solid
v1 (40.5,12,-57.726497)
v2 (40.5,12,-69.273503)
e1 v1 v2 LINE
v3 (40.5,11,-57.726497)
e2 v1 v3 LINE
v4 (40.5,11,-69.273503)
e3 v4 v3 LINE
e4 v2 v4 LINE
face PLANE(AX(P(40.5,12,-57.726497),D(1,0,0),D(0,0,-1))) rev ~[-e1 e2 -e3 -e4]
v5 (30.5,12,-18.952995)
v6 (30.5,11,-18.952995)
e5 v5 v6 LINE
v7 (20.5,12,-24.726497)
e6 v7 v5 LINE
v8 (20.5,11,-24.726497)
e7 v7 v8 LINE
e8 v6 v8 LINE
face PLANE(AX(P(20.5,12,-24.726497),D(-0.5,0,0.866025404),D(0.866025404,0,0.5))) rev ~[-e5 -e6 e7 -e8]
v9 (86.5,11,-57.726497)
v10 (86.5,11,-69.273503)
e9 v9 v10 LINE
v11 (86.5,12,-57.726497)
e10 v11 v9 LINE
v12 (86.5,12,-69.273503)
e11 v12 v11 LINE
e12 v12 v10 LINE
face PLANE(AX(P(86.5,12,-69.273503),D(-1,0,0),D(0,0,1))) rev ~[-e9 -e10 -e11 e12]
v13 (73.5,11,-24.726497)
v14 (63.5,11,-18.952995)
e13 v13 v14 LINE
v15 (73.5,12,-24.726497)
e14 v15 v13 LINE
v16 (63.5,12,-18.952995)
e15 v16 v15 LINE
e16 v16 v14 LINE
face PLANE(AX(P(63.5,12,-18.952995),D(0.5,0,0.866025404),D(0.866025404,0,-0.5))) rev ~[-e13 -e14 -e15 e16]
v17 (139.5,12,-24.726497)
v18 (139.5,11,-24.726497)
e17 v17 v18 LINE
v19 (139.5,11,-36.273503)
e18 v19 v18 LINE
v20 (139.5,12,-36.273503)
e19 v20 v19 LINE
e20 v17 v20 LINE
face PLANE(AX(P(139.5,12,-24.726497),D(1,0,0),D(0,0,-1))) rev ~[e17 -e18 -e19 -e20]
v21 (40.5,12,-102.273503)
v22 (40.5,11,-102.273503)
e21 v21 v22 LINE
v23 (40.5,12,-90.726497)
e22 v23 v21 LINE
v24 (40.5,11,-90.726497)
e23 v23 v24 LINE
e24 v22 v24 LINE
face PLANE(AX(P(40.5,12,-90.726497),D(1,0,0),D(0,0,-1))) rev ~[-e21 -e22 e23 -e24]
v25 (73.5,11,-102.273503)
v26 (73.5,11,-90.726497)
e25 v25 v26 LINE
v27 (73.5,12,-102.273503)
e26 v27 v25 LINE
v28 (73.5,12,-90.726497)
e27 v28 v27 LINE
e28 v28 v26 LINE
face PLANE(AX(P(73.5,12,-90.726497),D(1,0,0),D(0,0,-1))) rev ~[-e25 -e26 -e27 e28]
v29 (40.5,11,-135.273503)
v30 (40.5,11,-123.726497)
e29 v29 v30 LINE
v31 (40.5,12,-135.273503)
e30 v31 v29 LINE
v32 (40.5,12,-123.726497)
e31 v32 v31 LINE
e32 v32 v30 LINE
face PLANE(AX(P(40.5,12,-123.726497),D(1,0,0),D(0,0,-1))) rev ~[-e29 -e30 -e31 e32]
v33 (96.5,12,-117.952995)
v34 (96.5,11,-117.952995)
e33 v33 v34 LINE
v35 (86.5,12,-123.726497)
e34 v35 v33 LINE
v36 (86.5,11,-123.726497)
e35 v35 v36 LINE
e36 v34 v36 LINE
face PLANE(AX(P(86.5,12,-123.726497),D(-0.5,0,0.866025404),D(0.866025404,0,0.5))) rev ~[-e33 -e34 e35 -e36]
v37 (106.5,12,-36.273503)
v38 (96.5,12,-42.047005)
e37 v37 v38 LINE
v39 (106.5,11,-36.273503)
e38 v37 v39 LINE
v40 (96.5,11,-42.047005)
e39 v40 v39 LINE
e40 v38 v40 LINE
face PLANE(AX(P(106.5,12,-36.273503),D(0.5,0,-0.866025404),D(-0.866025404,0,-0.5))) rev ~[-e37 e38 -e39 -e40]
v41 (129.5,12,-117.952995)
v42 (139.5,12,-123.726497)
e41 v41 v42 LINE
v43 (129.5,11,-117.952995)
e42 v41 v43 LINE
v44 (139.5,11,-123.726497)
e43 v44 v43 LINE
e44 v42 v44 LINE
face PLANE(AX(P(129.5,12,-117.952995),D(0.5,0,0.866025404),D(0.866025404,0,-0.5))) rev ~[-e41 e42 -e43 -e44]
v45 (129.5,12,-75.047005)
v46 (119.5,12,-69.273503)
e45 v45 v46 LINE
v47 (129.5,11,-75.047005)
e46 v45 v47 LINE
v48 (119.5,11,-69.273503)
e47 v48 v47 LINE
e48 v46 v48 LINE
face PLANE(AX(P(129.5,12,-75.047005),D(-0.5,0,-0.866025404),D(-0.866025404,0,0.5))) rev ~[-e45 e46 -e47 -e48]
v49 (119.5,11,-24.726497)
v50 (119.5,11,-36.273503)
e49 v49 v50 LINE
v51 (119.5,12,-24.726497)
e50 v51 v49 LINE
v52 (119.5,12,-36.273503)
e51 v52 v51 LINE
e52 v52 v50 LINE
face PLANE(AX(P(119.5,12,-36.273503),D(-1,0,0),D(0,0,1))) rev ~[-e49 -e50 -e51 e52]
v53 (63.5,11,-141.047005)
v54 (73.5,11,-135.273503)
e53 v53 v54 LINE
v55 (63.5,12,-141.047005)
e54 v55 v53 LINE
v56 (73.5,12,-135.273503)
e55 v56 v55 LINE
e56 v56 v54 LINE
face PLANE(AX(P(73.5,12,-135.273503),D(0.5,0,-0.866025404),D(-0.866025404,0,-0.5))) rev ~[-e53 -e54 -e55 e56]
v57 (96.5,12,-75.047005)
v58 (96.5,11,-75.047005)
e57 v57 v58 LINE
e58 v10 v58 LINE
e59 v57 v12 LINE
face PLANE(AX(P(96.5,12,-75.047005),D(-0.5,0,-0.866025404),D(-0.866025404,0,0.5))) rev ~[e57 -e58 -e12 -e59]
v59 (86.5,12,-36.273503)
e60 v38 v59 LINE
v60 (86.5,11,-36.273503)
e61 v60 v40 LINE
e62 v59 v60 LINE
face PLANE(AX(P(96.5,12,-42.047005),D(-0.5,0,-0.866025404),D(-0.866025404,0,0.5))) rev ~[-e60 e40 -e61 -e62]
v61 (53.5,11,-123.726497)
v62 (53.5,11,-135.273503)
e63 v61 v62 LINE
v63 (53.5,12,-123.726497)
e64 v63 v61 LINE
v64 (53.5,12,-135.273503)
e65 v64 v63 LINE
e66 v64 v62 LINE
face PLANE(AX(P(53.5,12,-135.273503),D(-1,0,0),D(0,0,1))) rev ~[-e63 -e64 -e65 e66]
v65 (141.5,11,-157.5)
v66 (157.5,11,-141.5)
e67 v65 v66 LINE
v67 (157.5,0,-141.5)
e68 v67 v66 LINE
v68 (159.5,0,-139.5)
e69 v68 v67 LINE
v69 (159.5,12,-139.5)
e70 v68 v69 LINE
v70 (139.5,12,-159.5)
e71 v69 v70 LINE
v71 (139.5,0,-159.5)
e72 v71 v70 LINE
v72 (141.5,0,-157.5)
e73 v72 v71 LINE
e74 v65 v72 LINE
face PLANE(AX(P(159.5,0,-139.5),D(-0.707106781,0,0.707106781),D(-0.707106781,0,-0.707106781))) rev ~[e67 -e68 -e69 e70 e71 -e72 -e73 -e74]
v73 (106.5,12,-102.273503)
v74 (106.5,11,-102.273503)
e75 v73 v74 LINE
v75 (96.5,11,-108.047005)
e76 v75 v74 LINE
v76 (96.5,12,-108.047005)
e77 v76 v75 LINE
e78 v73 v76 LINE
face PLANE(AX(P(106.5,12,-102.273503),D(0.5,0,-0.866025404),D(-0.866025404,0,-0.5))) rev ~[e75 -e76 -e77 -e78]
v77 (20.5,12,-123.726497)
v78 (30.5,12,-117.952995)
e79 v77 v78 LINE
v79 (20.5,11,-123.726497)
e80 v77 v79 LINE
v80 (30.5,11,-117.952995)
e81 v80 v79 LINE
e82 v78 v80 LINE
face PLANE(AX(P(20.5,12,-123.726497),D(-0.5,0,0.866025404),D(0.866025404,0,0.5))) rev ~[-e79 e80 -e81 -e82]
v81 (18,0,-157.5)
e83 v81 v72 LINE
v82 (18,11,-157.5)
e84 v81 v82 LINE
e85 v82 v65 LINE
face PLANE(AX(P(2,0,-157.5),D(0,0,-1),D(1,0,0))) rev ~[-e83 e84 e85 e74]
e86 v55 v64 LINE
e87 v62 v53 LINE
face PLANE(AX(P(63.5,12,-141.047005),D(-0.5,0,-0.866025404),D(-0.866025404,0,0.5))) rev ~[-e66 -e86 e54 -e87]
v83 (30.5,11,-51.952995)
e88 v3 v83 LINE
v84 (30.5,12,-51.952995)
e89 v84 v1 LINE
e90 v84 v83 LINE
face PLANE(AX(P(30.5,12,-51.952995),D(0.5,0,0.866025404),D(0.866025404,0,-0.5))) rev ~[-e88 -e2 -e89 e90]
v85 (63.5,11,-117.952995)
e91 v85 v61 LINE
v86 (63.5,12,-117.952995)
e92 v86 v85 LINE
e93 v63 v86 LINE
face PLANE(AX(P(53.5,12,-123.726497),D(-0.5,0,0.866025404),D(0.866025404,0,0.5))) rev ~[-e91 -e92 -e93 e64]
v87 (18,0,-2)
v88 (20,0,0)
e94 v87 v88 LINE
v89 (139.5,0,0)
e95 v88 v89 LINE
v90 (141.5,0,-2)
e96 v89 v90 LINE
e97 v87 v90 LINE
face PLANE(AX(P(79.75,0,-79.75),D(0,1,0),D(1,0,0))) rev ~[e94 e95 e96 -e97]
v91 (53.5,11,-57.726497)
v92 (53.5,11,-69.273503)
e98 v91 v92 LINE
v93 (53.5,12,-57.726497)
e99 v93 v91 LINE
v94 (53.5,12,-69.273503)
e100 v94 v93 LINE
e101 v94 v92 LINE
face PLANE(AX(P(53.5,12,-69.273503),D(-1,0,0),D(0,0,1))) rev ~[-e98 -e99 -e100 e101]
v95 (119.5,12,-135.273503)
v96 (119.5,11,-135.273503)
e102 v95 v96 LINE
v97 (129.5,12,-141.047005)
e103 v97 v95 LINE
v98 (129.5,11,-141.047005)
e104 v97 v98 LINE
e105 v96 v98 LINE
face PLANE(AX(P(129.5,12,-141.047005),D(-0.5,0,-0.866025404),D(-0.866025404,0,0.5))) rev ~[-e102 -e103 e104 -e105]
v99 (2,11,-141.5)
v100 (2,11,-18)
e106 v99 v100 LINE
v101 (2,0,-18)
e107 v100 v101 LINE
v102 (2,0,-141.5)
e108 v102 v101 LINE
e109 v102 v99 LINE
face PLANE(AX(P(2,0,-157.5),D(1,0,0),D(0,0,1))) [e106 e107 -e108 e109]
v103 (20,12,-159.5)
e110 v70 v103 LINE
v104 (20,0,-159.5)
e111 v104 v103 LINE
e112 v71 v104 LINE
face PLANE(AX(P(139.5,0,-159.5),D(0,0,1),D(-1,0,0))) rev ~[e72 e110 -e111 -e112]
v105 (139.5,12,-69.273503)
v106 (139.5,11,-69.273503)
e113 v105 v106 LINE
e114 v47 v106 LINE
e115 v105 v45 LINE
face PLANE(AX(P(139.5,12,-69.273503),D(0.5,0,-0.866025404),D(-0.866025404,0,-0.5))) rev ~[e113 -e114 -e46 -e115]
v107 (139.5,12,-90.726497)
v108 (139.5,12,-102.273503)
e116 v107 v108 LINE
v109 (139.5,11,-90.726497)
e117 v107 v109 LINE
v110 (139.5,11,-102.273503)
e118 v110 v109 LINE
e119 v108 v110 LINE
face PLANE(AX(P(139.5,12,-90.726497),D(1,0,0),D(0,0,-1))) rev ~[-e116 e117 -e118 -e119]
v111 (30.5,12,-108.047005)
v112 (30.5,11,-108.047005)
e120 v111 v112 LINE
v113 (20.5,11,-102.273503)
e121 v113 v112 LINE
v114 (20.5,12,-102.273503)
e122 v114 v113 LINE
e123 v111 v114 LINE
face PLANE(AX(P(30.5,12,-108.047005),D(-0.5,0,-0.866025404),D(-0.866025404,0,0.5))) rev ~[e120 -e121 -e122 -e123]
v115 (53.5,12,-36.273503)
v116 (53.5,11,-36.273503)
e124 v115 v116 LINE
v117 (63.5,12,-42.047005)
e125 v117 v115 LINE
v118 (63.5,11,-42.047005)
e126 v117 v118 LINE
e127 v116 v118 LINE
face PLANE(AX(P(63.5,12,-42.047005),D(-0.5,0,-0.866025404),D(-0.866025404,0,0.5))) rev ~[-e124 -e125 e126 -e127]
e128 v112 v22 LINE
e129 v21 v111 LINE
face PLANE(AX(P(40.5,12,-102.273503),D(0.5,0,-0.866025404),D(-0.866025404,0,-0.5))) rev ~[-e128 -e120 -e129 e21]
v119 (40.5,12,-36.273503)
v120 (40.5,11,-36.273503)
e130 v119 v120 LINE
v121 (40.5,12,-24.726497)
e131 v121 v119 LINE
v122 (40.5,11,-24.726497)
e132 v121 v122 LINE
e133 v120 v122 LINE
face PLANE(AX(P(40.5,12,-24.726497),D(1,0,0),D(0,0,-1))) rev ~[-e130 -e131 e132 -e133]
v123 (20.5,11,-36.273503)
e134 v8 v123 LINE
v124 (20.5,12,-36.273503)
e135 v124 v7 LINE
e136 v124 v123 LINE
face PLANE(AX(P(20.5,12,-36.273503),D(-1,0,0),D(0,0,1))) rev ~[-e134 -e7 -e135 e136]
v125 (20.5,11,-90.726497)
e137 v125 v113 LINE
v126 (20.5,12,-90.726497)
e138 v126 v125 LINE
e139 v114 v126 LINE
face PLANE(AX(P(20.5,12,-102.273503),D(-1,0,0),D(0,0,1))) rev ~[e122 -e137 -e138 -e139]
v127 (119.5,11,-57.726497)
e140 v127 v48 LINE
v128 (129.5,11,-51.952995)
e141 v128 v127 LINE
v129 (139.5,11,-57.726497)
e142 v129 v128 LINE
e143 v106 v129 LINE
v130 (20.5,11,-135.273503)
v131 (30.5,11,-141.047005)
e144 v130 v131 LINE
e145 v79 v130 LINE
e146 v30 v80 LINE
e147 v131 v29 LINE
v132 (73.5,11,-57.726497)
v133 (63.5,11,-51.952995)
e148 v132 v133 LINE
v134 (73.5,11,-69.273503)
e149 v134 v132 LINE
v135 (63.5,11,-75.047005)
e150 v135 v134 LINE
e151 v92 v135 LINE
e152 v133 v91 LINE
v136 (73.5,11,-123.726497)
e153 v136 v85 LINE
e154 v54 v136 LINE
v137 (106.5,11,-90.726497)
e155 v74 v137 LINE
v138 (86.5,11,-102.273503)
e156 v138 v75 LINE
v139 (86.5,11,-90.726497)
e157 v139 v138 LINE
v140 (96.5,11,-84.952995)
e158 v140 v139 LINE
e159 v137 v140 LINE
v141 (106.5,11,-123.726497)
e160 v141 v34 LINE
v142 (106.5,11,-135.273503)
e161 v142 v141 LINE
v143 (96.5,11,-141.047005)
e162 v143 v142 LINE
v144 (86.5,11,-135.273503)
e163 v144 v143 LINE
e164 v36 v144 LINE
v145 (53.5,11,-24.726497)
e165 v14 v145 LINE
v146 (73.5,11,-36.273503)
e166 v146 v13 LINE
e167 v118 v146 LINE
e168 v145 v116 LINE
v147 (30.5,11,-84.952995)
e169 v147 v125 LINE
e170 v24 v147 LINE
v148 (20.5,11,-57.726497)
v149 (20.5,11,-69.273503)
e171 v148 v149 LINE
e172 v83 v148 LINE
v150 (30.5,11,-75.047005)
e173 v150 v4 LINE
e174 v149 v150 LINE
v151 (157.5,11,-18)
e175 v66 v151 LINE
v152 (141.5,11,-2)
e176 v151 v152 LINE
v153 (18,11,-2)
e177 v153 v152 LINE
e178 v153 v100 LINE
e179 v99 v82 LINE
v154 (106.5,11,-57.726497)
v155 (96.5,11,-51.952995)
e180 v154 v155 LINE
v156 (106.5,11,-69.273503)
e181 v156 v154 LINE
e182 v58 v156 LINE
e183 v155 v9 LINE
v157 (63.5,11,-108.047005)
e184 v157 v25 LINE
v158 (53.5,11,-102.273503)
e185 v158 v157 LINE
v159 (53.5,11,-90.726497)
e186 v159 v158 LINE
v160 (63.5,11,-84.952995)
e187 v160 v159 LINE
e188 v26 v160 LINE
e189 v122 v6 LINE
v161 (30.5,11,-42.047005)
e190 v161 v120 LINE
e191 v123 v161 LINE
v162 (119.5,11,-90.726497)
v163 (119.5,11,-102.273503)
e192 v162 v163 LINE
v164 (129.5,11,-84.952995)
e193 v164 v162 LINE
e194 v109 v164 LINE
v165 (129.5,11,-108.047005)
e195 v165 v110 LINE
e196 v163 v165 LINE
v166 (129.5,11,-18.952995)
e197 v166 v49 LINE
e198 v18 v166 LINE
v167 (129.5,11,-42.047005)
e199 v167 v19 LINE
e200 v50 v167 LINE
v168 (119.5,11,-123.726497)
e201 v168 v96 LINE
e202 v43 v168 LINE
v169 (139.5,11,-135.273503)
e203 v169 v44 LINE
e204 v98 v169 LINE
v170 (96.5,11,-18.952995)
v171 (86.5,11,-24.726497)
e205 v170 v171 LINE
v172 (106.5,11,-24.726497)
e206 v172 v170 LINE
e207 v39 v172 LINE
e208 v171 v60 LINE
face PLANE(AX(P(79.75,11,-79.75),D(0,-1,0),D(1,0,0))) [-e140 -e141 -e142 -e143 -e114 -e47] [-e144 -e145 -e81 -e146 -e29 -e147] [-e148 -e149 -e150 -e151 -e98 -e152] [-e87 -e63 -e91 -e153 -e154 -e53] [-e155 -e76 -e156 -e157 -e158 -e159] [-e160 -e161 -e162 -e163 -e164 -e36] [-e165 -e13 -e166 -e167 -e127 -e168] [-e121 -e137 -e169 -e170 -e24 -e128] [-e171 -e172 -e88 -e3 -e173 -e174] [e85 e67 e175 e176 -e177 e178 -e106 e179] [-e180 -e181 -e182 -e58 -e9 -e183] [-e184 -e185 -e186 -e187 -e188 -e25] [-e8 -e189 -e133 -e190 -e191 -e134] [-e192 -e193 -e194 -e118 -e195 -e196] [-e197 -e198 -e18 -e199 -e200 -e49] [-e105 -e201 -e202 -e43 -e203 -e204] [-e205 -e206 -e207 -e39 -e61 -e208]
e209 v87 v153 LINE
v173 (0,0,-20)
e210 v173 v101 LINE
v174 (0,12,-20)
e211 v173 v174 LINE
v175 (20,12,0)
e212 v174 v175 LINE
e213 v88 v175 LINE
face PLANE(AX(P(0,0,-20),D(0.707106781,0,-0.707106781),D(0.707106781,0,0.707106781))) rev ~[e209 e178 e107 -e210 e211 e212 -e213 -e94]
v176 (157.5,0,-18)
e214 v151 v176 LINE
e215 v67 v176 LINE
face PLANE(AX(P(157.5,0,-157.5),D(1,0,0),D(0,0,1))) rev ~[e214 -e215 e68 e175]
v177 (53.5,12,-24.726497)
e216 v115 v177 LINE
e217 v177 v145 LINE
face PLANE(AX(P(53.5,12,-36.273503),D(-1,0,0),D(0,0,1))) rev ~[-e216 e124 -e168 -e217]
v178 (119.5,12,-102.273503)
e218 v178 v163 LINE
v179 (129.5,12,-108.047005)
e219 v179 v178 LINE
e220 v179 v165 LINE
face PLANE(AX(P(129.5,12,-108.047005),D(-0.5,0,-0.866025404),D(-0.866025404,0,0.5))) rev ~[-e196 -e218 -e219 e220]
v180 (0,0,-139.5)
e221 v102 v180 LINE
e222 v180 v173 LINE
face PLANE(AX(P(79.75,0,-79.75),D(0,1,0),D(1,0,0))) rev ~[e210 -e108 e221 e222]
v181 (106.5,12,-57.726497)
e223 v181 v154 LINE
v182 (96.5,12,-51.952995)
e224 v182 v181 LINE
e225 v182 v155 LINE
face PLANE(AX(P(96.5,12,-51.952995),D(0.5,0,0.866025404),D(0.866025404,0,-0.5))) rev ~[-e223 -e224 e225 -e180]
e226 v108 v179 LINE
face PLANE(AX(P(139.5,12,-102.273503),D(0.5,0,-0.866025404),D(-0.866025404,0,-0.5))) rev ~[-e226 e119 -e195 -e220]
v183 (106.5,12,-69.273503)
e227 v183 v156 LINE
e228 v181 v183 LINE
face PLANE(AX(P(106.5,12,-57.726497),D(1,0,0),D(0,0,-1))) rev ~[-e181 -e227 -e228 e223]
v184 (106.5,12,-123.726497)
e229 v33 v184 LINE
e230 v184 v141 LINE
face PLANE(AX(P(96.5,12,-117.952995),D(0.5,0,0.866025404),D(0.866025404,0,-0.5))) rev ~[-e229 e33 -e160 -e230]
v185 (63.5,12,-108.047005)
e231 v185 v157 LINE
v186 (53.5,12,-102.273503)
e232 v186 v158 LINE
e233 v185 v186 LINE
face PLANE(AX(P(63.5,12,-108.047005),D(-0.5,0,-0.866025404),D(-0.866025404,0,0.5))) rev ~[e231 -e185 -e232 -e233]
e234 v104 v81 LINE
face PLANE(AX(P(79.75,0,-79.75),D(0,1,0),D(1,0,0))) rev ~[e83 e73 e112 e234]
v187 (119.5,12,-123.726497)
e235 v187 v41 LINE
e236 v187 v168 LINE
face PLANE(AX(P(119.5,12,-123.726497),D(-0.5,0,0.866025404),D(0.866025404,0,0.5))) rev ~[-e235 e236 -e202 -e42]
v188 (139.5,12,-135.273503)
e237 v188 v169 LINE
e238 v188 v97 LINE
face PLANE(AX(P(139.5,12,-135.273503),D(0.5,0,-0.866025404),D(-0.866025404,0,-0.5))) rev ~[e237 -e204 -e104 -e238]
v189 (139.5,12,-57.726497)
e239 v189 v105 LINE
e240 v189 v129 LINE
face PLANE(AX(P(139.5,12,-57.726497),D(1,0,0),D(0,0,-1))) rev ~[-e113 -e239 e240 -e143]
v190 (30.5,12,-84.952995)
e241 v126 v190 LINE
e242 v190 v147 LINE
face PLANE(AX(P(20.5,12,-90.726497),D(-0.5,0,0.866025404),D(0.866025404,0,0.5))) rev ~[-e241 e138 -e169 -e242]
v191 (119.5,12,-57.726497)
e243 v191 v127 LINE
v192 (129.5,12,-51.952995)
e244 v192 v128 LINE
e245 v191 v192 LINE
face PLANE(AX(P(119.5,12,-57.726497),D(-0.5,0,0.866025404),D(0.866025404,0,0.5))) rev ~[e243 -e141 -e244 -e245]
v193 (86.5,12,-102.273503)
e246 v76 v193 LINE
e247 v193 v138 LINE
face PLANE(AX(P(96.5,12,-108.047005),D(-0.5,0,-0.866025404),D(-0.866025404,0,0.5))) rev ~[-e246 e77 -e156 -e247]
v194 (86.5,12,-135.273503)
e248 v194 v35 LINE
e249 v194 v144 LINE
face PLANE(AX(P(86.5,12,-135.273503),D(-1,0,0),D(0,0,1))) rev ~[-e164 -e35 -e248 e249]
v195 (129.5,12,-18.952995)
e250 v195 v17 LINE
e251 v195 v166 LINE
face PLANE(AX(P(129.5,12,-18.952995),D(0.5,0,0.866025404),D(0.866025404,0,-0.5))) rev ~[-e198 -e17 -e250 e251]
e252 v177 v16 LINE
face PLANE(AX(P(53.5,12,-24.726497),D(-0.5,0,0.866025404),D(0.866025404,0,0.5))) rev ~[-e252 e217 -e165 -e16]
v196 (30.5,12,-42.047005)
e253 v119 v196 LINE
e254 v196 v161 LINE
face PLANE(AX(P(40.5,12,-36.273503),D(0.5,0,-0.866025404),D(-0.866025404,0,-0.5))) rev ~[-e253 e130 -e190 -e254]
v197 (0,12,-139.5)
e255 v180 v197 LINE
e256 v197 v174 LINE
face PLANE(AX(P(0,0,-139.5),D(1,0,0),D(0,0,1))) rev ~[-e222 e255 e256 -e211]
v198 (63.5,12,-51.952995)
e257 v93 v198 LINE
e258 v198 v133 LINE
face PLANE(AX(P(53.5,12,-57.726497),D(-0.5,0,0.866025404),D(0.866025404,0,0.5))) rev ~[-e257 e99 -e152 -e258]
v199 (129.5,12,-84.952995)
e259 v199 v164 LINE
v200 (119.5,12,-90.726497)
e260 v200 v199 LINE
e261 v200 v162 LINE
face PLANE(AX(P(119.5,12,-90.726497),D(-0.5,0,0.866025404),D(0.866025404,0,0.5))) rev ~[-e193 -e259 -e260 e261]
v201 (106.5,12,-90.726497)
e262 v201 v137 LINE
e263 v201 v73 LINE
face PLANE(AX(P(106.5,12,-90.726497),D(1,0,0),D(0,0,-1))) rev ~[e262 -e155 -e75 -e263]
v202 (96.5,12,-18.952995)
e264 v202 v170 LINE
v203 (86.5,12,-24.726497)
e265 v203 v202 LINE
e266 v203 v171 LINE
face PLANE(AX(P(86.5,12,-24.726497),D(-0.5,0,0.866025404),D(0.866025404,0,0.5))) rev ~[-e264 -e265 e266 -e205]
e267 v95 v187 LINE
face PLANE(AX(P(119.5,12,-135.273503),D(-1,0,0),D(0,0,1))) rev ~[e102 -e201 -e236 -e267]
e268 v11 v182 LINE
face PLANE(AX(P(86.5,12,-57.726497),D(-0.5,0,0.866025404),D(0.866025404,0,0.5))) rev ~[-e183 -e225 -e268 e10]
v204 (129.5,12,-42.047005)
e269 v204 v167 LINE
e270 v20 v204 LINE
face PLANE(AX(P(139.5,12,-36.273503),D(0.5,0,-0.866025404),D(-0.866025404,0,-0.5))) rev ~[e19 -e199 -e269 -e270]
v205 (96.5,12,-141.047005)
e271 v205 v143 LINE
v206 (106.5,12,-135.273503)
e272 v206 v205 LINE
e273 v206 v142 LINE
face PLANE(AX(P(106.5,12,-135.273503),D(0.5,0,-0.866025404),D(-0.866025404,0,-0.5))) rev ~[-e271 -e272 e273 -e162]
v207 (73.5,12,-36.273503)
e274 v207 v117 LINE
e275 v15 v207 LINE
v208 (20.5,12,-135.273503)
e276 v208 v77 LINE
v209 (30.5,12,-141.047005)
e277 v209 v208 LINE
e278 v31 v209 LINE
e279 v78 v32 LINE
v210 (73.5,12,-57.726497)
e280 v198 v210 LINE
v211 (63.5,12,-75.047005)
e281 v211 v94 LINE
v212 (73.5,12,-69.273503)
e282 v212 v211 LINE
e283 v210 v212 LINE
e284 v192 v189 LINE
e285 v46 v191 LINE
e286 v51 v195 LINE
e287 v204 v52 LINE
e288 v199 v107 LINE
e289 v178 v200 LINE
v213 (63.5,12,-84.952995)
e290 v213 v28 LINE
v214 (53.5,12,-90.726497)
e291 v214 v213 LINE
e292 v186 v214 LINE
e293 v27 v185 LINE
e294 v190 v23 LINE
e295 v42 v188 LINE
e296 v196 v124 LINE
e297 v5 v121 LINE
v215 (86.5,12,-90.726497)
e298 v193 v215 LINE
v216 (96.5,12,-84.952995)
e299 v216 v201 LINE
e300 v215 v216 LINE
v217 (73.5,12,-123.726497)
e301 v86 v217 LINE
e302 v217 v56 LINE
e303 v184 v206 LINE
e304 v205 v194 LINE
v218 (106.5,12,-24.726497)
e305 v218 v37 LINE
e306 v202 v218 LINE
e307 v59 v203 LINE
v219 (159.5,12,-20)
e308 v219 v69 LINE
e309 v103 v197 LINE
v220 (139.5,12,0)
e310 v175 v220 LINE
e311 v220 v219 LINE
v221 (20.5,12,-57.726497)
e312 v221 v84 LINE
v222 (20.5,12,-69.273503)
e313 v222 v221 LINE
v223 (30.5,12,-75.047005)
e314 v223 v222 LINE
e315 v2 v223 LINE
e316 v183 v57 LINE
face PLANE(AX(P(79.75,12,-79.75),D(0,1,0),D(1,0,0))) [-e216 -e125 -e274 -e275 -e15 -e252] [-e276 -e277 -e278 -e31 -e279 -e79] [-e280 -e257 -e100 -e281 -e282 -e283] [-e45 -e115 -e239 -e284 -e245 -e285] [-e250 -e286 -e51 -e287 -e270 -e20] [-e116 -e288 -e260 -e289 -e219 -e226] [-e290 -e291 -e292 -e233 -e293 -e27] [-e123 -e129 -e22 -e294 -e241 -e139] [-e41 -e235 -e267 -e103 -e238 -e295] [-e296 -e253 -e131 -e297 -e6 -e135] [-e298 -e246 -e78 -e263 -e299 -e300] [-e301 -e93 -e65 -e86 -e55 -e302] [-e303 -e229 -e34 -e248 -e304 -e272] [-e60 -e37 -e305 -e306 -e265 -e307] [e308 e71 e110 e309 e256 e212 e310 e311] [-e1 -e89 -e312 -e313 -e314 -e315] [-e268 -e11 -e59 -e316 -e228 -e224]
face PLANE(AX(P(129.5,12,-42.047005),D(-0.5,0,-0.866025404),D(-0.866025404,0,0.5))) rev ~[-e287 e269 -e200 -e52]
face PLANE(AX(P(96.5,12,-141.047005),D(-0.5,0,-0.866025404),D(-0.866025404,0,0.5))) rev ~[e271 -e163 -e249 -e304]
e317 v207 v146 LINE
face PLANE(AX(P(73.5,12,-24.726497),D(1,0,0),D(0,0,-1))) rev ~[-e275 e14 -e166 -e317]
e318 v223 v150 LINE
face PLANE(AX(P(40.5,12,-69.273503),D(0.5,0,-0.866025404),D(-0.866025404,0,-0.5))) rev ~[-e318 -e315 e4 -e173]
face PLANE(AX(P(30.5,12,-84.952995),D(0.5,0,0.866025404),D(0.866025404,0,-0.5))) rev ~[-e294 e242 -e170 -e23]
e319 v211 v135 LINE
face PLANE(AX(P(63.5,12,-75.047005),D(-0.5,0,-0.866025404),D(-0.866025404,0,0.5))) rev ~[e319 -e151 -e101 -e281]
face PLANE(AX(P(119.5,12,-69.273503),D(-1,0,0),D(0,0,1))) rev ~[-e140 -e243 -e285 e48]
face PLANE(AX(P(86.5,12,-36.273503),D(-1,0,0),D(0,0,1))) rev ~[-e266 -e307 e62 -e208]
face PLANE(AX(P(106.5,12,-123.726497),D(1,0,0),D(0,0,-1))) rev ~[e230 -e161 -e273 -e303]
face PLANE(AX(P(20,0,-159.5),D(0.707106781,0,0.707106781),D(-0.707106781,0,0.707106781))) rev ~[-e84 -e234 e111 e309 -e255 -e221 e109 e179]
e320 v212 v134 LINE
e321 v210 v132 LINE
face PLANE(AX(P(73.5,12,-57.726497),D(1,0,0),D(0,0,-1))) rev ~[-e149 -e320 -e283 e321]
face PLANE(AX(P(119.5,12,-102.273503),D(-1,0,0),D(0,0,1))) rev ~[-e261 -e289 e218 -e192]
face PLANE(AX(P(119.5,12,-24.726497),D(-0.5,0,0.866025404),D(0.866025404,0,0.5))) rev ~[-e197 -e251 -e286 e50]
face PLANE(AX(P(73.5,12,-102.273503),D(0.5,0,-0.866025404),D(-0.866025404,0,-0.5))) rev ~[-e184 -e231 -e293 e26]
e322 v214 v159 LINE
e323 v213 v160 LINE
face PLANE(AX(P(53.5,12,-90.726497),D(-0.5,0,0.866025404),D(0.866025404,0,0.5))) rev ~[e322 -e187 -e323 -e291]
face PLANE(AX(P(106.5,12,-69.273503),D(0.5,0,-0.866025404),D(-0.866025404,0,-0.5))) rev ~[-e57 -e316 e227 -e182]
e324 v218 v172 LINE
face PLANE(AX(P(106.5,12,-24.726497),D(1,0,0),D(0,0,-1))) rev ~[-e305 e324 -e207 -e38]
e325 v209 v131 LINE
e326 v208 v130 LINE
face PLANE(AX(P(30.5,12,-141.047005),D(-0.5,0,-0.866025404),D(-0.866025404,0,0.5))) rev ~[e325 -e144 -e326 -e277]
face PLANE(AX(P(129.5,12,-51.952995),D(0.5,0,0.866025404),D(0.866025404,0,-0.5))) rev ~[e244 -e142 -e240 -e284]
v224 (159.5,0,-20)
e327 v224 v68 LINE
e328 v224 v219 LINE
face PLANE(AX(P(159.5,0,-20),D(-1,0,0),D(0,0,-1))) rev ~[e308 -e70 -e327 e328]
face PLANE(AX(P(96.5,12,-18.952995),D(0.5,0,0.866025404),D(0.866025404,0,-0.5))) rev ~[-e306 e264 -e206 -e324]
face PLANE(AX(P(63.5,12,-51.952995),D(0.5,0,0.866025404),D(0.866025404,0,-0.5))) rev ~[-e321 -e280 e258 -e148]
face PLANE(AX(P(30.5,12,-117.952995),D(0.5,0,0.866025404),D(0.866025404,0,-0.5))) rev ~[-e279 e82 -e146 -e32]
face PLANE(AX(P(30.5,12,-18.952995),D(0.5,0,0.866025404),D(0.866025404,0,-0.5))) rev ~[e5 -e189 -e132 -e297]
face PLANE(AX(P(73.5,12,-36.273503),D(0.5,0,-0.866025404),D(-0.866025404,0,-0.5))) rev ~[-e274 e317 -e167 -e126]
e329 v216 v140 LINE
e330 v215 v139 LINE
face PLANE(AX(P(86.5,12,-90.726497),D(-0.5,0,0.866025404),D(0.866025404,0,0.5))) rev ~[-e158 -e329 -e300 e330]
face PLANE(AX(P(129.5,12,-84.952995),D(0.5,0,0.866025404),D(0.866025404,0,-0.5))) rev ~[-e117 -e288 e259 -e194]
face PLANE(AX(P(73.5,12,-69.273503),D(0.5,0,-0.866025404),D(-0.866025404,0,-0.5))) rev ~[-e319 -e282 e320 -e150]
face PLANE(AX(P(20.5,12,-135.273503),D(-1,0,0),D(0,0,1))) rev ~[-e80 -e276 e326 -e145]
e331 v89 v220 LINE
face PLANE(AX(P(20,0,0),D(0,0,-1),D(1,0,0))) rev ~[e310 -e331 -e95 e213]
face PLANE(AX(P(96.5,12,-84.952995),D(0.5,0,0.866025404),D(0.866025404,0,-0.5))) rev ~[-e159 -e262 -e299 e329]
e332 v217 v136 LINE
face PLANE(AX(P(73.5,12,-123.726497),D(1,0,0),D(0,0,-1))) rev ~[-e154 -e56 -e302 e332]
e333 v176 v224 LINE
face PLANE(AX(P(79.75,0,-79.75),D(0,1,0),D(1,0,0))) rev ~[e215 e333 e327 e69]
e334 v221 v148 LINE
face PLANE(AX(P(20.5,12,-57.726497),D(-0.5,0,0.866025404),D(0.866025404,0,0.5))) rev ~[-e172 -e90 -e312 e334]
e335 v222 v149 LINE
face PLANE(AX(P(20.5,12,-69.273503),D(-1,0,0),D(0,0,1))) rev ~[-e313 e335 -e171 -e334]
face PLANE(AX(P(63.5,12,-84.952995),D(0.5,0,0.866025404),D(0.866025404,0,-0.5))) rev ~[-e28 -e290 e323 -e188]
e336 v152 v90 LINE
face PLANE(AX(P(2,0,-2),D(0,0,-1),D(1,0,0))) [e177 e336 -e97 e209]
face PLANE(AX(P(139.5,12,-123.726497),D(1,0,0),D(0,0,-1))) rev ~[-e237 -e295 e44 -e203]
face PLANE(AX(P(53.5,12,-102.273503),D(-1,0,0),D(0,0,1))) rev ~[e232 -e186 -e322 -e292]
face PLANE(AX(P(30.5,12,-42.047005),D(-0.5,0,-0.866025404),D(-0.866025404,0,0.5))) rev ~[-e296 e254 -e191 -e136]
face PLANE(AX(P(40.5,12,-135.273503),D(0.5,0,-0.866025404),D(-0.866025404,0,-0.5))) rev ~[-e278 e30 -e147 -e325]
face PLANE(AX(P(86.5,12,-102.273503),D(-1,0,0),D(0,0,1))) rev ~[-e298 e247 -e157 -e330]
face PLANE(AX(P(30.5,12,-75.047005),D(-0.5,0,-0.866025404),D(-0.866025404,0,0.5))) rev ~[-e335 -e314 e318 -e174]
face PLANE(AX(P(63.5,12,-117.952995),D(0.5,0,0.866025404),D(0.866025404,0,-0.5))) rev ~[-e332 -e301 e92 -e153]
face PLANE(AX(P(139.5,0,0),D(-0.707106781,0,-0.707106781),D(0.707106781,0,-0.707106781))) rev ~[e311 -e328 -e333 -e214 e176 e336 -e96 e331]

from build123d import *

# Parameters (mm, degrees)
BOSS_EXTRUDE1_DEPTH = 12
SKETCH5_W           = 155.5
SKETCH5_H           = 155.5
CUT_EXTRUDE3_DEPTH  = 11
CUT_EXTRUDE4_DEPTH  = 11


with BuildPart() as part:
    # Sketch1 → Boss-Extrude1 (new body)
    with BuildSketch(Plane(origin=(0, 0, 0), x_dir=(1, 0, 0), z_dir=(0, 1, 0))):
        Polygon((20, 159.5), (0, 139.5), (0, 20), (20, 0), (139.5, 0), (159.5, 20), (159.5, 139.5), (139.5, 159.5), align=None)
    extrude(amount=BOSS_EXTRUDE1_DEPTH)

    # Sketch5 → Cut-Extrude3 (cut)
    with BuildSketch(Plane.XZ):
        with Locations((79.75, -79.75)):
            Rectangle(SKETCH5_W, SKETCH5_H)
    extrude(amount=-CUT_EXTRUDE3_DEPTH, mode=Mode.SUBTRACT)

    # Sketch7 → Cut-Extrude4 (cut)
    with BuildSketch(Plane(origin=(0, 12, 0), x_dir=(1, 0, 0), z_dir=(0, 1, 0))):
        Polygon((139.5, 123.726497308), (139.5, 135.273502692), (129.5, 141.047005384), (119.5, 135.273502692), (119.5, 123.726497308), (129.5, 117.952994616), align=None)
        Polygon((106.5, 123.726497308), (106.5, 135.273502692), (96.5, 141.047005384), (86.5, 135.273502692), (86.5, 123.726497308), (96.5, 117.952994616), align=None)
        Polygon((73.5, 123.726497308), (73.5, 135.273502692), (63.5, 141.047005384), (53.5, 135.273502692), (53.5, 123.726497308), (63.5, 117.952994616), align=None)
        Polygon((40.5, 123.726497308), (40.5, 135.273502692), (30.5, 141.047005384), (20.5, 135.273502692), (20.5, 123.726497308), (30.5, 117.952994616), align=None)
        Polygon((106.5, 90.726497308), (106.5, 102.273502692), (96.5, 108.047005384), (86.5, 102.273502692), (86.5, 90.726497308), (96.5, 84.952994616), align=None)
        Polygon((73.5, 90.726497308), (73.5, 102.273502692), (63.5, 108.047005384), (53.5, 102.273502692), (53.5, 90.726497308), (63.5, 84.952994616), align=None)
        Polygon((40.5, 90.726497308), (40.5, 102.273502692), (30.5, 108.047005384), (20.5, 102.273502692), (20.5, 90.726497308), (30.5, 84.952994616), align=None)
        Polygon((106.5, 57.726497308), (106.5, 69.273502692), (96.5, 75.047005384), (86.5, 69.273502692), (86.5, 57.726497308), (96.5, 51.952994616), align=None)
        Polygon((73.5, 57.726497308), (73.5, 69.273502692), (63.5, 75.047005384), (53.5, 69.273502692), (53.5, 57.726497308), (63.5, 51.952994616), align=None)
        Polygon((40.5, 57.726497308), (40.5, 69.273502692), (30.5, 75.047005384), (20.5, 69.273502692), (20.5, 57.726497308), (30.5, 51.952994616), align=None)
        Polygon((106.5, 24.726497308), (106.5, 36.273502692), (96.5, 42.047005384), (86.5, 36.273502692), (86.5, 24.726497308), (96.5, 18.952994616), align=None)
        Polygon((73.5, 24.726497308), (73.5, 36.273502692), (63.5, 42.047005384), (53.5, 36.273502692), (53.5, 24.726497308), (63.5, 18.952994616), align=None)
        Polygon((40.5, 24.726497308), (40.5, 36.273502692), (30.5, 42.047005384), (20.5, 36.273502692), (20.5, 24.726497308), (30.5, 18.952994616), align=None)
        Polygon((139.5, 90.726497308), (139.5, 102.273502692), (129.5, 108.047005384), (119.5, 102.273502692), (119.5, 90.726497308), (129.5, 84.952994616), align=None)
        Polygon((139.5, 57.726497308), (139.5, 69.273502692), (129.5, 75.047005384), (119.5, 69.273502692), (119.5, 57.726497308), (129.5, 51.952994616), align=None)
        Polygon((139.5, 24.726497308), (139.5, 36.273502692), (129.5, 42.047005384), (119.5, 36.273502692), (119.5, 24.726497308), (129.5, 18.952994616), align=None)
    extrude(amount=-CUT_EXTRUDE4_DEPTH, mode=Mode.SUBTRACT)


solid = part.part
